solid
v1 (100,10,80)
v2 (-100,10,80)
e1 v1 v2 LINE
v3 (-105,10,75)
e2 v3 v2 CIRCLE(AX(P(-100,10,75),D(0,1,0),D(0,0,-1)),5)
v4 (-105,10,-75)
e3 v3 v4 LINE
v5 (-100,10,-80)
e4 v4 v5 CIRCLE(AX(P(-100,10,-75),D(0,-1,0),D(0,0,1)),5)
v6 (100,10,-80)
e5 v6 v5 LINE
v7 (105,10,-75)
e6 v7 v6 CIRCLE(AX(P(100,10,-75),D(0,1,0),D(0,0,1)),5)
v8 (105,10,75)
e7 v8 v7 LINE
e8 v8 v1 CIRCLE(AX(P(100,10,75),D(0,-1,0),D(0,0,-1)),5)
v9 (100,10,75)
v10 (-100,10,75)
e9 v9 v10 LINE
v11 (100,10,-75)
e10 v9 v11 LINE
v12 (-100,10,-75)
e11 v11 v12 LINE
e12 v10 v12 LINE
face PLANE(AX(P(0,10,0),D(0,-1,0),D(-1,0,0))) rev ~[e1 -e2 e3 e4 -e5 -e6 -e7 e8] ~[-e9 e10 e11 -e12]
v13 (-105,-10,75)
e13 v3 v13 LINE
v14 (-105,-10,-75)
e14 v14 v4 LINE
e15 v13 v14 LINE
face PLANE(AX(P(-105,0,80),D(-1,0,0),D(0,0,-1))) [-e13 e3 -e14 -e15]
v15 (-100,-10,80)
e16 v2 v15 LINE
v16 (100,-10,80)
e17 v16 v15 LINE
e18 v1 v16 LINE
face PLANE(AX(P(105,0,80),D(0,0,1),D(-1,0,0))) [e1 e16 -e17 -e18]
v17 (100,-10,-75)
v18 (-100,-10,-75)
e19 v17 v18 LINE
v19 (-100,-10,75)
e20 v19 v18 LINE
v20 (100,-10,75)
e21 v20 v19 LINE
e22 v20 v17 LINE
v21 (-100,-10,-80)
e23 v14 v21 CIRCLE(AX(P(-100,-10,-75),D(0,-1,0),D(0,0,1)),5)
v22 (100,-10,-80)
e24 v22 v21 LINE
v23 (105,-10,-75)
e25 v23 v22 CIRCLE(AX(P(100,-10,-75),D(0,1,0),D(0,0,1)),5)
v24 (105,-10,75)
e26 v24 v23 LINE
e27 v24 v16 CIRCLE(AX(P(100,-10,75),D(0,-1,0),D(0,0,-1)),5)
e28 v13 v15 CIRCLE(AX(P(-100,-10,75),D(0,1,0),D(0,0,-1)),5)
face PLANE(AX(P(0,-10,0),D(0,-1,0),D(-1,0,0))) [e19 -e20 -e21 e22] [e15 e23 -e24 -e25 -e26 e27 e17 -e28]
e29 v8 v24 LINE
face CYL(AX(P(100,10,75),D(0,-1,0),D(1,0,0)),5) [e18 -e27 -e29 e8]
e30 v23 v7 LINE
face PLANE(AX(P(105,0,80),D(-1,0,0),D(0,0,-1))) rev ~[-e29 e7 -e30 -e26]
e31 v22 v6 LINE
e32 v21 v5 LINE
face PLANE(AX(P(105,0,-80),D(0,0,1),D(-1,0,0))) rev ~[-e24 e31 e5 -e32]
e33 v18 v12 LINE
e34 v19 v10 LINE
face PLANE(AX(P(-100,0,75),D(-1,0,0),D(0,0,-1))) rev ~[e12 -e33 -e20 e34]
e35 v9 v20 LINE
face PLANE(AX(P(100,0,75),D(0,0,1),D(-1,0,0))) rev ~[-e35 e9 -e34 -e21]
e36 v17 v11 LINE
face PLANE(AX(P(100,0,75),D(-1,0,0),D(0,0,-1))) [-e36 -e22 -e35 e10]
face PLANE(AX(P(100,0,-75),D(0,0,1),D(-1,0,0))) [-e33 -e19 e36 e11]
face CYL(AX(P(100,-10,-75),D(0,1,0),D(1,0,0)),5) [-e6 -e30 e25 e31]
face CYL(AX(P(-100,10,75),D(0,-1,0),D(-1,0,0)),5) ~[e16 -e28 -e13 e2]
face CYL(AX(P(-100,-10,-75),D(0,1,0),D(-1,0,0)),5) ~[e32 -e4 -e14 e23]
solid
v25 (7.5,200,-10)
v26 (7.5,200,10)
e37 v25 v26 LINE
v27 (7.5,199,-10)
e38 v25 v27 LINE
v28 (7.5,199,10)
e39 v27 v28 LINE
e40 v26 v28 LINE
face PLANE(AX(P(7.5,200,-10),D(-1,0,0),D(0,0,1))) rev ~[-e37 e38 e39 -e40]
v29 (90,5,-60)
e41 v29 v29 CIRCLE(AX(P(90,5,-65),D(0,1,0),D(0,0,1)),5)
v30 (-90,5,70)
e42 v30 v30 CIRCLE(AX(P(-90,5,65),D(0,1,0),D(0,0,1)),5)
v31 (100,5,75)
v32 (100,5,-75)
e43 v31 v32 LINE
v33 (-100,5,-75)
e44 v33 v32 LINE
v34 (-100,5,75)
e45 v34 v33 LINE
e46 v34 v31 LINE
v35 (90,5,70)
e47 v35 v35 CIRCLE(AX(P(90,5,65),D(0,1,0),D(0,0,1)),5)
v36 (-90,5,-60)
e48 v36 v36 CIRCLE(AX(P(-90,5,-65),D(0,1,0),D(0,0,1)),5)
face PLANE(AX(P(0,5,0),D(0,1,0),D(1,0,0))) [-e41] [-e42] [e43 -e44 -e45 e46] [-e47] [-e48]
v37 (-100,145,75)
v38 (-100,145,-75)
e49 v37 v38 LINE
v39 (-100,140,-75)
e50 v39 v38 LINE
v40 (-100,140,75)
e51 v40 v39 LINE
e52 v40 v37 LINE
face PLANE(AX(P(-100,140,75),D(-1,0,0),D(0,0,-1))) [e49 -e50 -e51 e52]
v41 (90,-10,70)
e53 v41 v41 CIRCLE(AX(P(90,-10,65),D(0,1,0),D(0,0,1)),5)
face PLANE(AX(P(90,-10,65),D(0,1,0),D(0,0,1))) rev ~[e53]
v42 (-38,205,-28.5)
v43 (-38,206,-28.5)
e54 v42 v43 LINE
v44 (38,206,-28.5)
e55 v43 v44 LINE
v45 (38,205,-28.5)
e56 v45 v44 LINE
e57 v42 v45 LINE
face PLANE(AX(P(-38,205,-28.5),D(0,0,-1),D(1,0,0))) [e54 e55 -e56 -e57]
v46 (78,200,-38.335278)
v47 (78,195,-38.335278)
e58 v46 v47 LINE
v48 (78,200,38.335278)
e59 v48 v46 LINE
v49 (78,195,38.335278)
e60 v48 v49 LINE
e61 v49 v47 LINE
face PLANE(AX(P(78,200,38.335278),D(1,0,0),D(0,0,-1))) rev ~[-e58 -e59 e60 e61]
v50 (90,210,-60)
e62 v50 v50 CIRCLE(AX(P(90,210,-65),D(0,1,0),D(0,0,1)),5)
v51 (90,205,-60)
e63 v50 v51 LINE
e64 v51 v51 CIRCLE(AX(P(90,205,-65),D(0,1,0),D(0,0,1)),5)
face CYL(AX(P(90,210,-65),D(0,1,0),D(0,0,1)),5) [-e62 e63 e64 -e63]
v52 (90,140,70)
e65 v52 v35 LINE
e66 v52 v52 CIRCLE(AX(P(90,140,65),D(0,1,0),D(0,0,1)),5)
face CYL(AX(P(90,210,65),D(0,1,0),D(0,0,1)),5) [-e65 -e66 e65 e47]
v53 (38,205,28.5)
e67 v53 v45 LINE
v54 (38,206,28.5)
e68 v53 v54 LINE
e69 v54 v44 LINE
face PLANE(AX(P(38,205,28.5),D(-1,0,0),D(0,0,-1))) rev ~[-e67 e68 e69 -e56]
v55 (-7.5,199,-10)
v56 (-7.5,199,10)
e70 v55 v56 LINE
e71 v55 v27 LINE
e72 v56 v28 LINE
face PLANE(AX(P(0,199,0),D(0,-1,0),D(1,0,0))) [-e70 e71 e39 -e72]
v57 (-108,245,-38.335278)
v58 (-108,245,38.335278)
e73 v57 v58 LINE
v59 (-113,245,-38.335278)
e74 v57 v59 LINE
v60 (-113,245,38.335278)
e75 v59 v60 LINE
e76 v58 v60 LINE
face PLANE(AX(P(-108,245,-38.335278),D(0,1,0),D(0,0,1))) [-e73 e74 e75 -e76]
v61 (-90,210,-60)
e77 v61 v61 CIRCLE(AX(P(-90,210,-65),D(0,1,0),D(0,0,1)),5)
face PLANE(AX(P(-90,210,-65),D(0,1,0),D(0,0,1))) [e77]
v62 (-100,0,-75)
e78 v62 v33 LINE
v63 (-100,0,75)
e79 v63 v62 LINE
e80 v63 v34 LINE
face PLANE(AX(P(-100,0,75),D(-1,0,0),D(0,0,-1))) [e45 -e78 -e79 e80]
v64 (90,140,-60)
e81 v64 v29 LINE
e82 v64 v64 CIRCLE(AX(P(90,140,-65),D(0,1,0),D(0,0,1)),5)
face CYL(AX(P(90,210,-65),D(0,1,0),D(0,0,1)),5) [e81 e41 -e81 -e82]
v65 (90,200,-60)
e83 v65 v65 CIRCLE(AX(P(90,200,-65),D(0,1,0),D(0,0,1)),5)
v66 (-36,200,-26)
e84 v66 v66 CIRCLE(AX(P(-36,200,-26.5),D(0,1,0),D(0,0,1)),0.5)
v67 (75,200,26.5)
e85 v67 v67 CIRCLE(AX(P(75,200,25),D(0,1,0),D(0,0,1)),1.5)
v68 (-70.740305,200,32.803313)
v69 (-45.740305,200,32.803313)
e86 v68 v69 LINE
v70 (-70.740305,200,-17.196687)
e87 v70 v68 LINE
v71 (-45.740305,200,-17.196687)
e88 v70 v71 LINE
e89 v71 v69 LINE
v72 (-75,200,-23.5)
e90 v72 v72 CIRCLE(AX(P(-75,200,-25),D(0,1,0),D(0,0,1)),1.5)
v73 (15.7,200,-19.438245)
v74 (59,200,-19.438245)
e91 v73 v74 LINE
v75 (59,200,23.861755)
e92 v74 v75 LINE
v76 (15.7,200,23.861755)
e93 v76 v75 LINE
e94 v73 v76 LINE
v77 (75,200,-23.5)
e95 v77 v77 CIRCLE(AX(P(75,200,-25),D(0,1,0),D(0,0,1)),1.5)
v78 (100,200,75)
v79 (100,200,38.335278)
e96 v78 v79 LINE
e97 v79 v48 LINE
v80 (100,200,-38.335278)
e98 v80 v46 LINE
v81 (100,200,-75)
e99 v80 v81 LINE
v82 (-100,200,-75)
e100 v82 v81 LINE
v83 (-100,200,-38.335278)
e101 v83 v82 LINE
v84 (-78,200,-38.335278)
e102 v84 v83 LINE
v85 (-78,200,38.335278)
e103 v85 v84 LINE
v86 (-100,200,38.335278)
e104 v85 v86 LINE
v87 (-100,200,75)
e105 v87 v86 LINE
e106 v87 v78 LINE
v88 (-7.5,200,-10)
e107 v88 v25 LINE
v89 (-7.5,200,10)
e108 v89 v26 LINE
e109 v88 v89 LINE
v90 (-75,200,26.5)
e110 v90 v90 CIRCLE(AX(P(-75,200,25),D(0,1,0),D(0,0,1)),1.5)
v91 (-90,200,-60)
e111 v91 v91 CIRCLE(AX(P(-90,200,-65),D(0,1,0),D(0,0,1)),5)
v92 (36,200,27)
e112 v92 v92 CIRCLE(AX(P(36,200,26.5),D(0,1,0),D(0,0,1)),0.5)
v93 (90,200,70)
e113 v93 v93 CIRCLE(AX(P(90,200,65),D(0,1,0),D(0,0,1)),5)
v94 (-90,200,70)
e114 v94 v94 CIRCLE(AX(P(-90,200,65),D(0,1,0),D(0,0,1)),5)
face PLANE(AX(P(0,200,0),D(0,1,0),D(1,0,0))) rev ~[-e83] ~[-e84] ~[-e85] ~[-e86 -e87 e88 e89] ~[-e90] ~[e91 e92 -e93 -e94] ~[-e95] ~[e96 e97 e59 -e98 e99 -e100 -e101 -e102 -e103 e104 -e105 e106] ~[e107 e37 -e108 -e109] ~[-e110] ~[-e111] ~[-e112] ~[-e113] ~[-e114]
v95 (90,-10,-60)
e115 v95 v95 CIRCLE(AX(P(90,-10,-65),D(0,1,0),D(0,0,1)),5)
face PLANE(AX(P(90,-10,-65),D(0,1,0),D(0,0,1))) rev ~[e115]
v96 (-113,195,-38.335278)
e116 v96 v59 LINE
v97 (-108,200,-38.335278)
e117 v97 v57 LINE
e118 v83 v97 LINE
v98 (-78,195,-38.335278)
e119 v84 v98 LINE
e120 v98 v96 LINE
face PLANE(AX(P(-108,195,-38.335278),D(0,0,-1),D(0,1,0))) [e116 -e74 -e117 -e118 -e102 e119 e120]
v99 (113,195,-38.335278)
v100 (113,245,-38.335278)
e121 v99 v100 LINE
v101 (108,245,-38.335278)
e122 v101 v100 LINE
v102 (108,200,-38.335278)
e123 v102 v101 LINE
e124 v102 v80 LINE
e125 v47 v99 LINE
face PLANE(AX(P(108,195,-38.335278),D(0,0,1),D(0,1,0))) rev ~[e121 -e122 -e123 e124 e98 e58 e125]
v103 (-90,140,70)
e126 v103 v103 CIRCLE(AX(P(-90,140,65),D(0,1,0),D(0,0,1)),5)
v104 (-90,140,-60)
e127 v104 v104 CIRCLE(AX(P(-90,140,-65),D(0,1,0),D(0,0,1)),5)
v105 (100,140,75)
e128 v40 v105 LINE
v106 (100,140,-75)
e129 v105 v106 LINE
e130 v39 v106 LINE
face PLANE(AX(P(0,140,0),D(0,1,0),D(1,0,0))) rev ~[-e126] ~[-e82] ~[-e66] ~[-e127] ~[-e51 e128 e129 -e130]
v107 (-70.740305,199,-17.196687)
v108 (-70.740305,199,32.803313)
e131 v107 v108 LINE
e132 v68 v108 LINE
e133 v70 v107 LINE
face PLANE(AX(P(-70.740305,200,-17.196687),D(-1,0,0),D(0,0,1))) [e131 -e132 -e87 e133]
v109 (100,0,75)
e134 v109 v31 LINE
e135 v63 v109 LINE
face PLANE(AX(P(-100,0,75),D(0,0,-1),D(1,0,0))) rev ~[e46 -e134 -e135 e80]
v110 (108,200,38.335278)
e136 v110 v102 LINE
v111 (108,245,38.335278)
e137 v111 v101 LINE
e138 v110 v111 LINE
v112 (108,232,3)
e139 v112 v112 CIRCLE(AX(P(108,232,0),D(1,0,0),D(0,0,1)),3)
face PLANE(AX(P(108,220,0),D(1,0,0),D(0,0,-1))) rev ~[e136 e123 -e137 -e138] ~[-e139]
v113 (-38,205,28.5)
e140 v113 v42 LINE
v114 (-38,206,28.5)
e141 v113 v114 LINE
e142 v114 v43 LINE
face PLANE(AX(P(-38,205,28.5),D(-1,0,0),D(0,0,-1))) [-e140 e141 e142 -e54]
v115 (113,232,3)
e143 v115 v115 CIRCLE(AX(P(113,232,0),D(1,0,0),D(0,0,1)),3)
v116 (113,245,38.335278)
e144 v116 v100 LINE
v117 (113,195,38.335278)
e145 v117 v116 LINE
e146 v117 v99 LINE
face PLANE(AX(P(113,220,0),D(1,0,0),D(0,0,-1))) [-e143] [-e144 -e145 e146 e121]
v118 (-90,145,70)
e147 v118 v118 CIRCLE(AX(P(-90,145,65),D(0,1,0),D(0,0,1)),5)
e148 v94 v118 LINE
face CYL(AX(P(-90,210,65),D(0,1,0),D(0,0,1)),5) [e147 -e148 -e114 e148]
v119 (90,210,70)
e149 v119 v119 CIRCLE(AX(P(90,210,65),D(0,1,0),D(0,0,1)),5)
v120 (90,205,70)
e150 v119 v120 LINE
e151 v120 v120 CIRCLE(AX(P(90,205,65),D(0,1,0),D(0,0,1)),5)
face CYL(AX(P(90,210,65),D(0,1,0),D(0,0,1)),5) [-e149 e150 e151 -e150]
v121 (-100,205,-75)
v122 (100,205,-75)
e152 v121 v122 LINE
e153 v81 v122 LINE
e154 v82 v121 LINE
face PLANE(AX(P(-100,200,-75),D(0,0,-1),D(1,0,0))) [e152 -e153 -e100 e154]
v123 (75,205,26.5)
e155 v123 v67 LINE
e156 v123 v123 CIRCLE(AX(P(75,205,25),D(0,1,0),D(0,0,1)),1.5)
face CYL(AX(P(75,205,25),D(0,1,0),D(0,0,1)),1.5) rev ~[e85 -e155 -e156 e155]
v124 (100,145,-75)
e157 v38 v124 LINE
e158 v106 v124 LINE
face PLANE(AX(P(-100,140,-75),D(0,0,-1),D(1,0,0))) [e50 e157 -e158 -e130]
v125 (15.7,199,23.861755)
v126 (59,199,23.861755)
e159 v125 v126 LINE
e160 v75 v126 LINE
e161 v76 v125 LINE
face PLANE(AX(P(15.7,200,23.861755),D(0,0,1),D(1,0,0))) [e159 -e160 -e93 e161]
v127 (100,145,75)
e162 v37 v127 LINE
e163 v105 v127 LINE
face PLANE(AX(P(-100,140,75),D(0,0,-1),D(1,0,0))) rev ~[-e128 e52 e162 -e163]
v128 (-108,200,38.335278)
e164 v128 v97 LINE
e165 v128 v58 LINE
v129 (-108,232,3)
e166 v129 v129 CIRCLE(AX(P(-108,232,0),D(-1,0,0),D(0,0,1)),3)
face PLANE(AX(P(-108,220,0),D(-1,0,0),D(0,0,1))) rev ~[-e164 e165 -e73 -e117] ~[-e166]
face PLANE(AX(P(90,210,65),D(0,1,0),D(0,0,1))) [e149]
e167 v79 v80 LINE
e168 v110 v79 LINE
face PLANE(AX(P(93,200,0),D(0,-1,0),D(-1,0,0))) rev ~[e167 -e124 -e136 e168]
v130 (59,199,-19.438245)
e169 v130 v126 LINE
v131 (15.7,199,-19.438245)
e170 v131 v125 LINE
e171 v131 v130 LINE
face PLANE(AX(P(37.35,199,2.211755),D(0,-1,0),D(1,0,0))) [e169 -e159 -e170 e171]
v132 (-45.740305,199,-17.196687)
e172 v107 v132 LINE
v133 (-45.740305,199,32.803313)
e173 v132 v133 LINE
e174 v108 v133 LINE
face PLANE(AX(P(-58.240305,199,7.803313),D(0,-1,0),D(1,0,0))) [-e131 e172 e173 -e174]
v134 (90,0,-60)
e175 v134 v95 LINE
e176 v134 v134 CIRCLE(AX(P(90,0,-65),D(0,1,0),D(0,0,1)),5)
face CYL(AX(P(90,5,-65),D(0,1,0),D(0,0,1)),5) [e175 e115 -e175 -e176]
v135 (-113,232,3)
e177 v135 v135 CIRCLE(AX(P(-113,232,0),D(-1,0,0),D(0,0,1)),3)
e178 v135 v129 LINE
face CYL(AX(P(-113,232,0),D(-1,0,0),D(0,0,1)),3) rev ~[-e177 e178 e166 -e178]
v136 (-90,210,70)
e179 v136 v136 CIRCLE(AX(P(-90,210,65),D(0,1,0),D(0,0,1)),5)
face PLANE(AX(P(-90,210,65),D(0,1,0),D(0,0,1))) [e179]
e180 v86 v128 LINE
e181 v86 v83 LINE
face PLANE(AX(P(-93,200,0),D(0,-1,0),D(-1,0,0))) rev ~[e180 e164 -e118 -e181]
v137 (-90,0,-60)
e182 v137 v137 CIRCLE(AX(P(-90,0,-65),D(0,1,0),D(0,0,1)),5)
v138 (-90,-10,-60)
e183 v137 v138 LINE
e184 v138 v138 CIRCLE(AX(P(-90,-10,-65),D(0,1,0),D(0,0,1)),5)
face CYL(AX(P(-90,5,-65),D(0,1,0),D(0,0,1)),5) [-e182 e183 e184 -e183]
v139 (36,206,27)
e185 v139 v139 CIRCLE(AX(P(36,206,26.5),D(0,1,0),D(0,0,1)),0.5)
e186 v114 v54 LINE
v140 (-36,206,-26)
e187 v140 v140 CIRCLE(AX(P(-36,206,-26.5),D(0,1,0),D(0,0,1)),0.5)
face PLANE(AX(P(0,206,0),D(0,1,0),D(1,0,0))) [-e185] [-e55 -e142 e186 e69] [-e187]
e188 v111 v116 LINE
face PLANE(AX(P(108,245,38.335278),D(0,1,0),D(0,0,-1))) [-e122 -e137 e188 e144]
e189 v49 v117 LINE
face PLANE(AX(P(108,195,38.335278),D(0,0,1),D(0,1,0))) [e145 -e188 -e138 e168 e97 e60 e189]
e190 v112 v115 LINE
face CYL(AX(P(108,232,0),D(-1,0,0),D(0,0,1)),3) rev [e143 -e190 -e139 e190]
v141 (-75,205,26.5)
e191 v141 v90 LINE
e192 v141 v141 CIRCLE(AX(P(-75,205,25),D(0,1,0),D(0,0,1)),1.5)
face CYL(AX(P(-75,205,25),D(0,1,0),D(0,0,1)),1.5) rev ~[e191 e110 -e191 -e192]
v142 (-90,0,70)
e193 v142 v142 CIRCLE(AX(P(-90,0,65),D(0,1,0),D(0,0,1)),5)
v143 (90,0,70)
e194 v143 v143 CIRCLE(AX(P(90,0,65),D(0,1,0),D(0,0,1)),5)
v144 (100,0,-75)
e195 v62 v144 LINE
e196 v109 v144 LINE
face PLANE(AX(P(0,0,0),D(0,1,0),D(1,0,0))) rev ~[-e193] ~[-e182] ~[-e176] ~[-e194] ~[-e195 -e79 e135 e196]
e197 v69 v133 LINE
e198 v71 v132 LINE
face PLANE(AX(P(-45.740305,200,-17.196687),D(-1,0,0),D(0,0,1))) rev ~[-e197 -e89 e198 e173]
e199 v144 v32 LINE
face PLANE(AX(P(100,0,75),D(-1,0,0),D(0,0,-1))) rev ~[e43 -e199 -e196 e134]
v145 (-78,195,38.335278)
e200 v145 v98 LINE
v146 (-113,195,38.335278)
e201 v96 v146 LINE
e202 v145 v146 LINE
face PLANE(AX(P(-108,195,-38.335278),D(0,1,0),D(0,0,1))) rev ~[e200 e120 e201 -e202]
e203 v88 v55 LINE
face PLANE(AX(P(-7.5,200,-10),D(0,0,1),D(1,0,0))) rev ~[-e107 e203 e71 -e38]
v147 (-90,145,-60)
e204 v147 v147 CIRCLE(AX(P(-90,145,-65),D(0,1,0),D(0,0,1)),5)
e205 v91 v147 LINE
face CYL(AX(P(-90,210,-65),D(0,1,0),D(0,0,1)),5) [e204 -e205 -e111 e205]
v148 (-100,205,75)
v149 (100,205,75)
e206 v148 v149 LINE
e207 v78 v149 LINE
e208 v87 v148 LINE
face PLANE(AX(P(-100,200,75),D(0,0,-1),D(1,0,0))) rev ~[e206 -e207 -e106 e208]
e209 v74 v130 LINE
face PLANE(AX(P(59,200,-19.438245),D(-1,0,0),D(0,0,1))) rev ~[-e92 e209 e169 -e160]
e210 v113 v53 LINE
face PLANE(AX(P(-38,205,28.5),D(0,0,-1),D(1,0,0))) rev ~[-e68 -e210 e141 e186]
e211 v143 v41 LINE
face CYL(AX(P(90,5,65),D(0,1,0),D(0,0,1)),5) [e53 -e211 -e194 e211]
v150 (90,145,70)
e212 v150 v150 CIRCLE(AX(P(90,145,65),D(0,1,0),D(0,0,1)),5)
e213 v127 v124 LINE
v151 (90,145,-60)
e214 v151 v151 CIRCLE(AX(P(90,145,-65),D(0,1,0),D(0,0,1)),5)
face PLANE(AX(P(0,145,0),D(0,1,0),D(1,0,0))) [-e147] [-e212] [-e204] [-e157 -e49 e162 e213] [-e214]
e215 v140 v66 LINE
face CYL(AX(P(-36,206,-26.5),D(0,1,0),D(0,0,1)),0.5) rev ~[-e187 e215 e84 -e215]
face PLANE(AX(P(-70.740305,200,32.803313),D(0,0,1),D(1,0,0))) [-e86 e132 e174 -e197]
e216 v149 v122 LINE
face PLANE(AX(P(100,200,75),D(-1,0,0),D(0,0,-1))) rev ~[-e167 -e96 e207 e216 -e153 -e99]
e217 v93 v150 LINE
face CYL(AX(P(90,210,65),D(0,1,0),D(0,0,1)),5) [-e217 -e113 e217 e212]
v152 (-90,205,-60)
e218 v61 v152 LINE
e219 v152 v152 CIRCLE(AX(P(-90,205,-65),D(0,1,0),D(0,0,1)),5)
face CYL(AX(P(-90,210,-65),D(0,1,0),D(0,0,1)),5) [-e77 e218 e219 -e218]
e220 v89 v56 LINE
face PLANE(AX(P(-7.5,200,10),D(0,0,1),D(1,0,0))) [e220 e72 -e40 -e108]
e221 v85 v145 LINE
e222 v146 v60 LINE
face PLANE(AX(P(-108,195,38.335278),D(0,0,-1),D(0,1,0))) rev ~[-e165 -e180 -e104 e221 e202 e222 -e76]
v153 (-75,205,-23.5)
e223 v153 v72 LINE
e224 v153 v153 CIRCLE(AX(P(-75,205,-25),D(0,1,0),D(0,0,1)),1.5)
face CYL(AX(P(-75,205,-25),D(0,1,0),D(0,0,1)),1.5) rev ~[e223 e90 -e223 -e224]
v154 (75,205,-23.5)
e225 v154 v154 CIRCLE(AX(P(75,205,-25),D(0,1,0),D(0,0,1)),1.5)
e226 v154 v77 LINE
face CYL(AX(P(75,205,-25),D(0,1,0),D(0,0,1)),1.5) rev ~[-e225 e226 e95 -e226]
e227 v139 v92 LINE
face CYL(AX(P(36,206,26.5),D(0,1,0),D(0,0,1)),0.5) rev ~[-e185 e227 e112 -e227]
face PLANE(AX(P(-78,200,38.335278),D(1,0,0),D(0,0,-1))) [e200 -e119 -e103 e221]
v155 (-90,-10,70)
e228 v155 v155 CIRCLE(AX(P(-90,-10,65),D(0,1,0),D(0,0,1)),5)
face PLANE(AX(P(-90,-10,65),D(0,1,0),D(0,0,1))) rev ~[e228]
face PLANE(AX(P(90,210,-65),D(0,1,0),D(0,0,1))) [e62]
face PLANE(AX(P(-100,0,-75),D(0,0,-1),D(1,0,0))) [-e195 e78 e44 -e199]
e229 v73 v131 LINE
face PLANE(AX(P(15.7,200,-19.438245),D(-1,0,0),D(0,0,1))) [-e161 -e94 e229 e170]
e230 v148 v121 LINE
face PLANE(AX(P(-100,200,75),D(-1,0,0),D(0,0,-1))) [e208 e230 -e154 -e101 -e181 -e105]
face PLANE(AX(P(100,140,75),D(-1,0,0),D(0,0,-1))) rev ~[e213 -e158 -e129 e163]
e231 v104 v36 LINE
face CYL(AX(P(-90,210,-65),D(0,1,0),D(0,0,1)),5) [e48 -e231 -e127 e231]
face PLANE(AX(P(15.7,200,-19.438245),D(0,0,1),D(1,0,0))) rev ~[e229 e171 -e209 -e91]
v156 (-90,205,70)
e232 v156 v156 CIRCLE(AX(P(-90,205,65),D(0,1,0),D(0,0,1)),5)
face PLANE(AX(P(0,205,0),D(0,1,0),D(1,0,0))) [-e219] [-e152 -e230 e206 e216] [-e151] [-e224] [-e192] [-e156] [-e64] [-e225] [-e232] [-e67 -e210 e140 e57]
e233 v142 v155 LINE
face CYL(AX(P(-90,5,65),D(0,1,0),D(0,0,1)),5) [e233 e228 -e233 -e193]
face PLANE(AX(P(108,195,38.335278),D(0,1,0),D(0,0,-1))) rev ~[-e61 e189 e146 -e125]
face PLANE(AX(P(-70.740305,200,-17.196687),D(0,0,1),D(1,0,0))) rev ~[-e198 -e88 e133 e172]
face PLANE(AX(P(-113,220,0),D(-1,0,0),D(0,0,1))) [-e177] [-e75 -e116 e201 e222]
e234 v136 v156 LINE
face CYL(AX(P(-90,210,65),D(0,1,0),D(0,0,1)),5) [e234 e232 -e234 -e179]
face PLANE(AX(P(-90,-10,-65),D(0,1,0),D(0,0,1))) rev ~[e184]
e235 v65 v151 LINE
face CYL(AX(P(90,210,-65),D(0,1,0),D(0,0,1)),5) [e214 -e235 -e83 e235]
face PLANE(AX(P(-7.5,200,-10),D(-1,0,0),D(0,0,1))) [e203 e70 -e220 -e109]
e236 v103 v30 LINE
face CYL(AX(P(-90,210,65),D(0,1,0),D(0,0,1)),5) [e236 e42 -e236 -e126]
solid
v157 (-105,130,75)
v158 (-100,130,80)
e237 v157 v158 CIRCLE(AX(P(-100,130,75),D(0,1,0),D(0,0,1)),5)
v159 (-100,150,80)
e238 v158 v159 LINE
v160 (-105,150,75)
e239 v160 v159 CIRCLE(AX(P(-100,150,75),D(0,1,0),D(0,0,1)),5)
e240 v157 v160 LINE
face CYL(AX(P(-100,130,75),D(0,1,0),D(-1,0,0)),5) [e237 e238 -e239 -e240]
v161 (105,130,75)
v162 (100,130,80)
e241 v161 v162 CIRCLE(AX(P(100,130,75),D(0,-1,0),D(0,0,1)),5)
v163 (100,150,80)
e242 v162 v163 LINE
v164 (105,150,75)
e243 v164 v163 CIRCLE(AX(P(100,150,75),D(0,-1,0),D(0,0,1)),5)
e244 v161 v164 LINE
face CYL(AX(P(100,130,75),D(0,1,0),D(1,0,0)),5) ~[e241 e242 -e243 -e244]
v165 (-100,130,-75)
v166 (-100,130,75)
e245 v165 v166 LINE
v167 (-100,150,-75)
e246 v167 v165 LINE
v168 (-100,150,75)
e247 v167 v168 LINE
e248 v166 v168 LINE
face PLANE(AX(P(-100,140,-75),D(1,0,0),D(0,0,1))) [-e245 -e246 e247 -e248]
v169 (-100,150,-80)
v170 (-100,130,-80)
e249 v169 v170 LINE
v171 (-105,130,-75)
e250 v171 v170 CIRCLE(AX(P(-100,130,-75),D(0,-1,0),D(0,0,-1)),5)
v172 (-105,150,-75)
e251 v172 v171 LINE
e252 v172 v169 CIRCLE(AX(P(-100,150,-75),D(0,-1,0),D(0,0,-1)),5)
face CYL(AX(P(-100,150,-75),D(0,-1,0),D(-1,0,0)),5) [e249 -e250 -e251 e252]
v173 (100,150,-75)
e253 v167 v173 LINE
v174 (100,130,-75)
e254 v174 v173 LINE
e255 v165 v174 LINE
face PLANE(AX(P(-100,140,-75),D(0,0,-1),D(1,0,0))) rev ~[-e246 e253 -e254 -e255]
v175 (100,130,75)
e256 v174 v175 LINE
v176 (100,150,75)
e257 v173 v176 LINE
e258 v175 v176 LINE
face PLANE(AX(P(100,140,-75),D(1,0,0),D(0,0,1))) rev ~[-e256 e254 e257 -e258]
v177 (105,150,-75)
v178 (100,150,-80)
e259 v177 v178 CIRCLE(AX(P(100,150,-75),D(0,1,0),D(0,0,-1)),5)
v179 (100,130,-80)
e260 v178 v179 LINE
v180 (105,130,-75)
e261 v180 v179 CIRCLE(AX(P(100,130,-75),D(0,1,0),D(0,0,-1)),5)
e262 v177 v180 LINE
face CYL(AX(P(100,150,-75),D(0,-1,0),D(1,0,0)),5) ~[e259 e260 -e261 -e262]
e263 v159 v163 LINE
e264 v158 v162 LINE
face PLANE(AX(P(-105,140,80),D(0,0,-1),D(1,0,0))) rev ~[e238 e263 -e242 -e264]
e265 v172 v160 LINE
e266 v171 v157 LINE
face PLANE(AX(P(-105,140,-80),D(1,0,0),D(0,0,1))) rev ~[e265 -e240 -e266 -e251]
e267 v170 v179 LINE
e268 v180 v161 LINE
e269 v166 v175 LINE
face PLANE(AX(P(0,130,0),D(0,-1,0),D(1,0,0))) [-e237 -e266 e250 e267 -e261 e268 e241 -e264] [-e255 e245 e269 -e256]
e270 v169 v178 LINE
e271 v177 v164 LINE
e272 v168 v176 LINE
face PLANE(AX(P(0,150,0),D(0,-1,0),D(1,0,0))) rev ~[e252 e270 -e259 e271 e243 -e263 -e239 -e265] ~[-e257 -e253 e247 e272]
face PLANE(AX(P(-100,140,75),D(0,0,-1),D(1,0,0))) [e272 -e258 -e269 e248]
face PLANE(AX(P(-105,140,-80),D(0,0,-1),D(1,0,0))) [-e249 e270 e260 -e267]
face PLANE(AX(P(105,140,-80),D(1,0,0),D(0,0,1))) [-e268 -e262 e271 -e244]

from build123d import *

# Parameters (mm, degrees)
SKETCH1_W            = 200
SKETCH1_H            = 150
BOSS_EXTRUDE1_DEPTH  = 5
SKETCH2_R            = 5
CUT_EXTRUDE1_DEPTH   = 10
SKETCH3_W            = 200
SKETCH3_H            = 150
SKETCH3_R            = 5
BOSS_EXTRUDE2_DEPTH  = 5
SKETCH4_W            = 200
SKETCH4_H            = 150
SKETCH4_R            = 5
BOSS_EXTRUDE3_DEPTH  = 5
BOSS_EXTRUDE13_START = 205
SKETCH21_R           = 5
BOSS_EXTRUDE13_DEPTH = 205
SKETCH22_R           = 5
BOSS_EXTRUDE14_DEPTH = 15
SKETCH23_R           = 1.5
CUT_EXTRUDE2_DEPTH   = 10
SKETCH27_W           = 76
SKETCH27_H           = 57
BOSS_EXTRUDE16_DEPTH = 1
SKETCH30_R           = 0.5
CUT_EXTRUDE3_DEPTH   = 30
SKETCH35_W           = 210
SKETCH35_H           = 160
SKETCH35_W_2         = 200
SKETCH35_H_2         = 150
BOSS_EXTRUDE19_DEPTH = 10
FILLET4_R            = 5
SKETCH39_W           = 210
SKETCH39_H           = 160
SKETCH39_W_2         = 200
SKETCH39_H_2         = 150
BOSS_EXTRUDE20_DEPTH = 10
FILLET5_R            = 5
SKETCH42_W           = 15
SKETCH42_H           = 20
SKETCH42_W_2         = 25
SKETCH42_H_2         = 50
SKETCH42_W_3         = 43.3
SKETCH42_H_3         = 43.3
BOSS_EXTRUDE23_DEPTH = 1
SKETCH46_W           = 30
SKETCH46_H           = 76.670556204
BOSS_EXTRUDE24_DEPTH = 5
SKETCH48_W           = 76.670556204
SKETCH48_H           = 50
BOSS_EXTRUDE25_DEPTH = 5
SKETCH49_R           = 3
CUT_EXTRUDE4_DEPTH   = 5
SKETCH54_W           = 76.670556204
SKETCH54_H           = 50
BOSS_EXTRUDE26_DEPTH = 5
CUT_EXTRUDE5_START   = -5
SKETCH55_R           = 3
CUT_EXTRUDE5_DEPTH   = 5


with BuildPart() as part:
    # Sketch1 → Boss-Extrude1 (new body)
    with BuildSketch(Plane(origin=(0, 0, 0), x_dir=(1, 0, 0), z_dir=(0, 1, 0))):
        Rectangle(SKETCH1_W, SKETCH1_H)
    extrude(amount=BOSS_EXTRUDE1_DEPTH)

    # Sketch2 → Cut-Extrude1 (cut)
    with BuildSketch(Plane(origin=(0, 5, 0), x_dir=(1, 0, 0), z_dir=(0, 1, 0))):
        with Locations(Location((-90, 65, 0), (0, 0, 270))):
            Circle(SKETCH2_R)
        with Locations(Location((90, 65, 0), (0, 0, 270))):
            Circle(SKETCH2_R)
        with Locations(Location((90, -65, 0), (0, 0, 270))):
            Circle(SKETCH2_R)
        with Locations(Location((-90, -65, 0), (0, 0, 270))):
            Circle(SKETCH2_R)
    extrude(amount=-CUT_EXTRUDE1_DEPTH, mode=Mode.SUBTRACT)



with BuildPart() as body_2:
    # Sketch3 → Boss-Extrude2 (new body)
    with BuildSketch(Plane(origin=(0, 140, 0), x_dir=(1, 0, 0), z_dir=(0, 1, 0))):
        Rectangle(SKETCH3_W, SKETCH3_H)
        with Locations(Location((-90, 65, 0), (0, 0, 270))):
            Circle(SKETCH3_R, mode=Mode.SUBTRACT)
        with Locations(Location((90, 65, 0), (0, 0, 270))):
            Circle(SKETCH3_R, mode=Mode.SUBTRACT)
        with Locations(Location((-90, -65, 0), (0, 0, 270))):
            Circle(SKETCH3_R, mode=Mode.SUBTRACT)
        with Locations(Location((90, -65, 0), (0, 0, 270))):
            Circle(SKETCH3_R, mode=Mode.SUBTRACT)
    extrude(amount=BOSS_EXTRUDE2_DEPTH)



with BuildPart() as body_3:
    # Sketch4 → Boss-Extrude3 (new body)
    with BuildSketch(Plane(origin=(0, 200, 0), x_dir=(1, 0, 0), z_dir=(0, 1, 0))):
        Rectangle(SKETCH4_W, SKETCH4_H)
        with Locations(Location((-90, 65, 0), (0, 0, 270))):
            Circle(SKETCH4_R, mode=Mode.SUBTRACT)
        with Locations(Location((90, 65, 0), (0, 0, 270))):
            Circle(SKETCH4_R, mode=Mode.SUBTRACT)
        with Locations(Location((90, -65, 0), (0, 0, 270))):
            Circle(SKETCH4_R, mode=Mode.SUBTRACT)
        with Locations(Location((-90, -65, 0), (0, 0, 270))):
            Circle(SKETCH4_R, mode=Mode.SUBTRACT)
    extrude(amount=BOSS_EXTRUDE3_DEPTH)


with BuildPart() as body_2_1:
    add(body_2.part)

    add(body_3.part)  # Boss-Extrude13 merges body 3
    # Sketch21 → Boss-Extrude13 (add)
    with BuildSketch(Plane(origin=(0, 5, 0), x_dir=(1, 0, 0), z_dir=(0, 1, 0)).offset(BOSS_EXTRUDE13_START)):
        with Locations(Location((-90, -65, 0), (0, 0, 270))):
            Circle(SKETCH21_R)
        with Locations(Location((-90, 65, 0), (0, 0, 270))):
            Circle(SKETCH21_R)
        with Locations(Location((90, 65, 0), (0, 0, 270))):
            Circle(SKETCH21_R)
        with Locations(Location((90, -65, 0), (0, 0, 270))):
            Circle(SKETCH21_R)
    extrude(amount=-BOSS_EXTRUDE13_DEPTH)


with BuildPart() as part_1:
    add(part.part)

    add(body_2_1.part)  # Boss-Extrude14 merges body 2
    # Sketch22 → Boss-Extrude14 (add)
    with BuildSketch(Plane(origin=(0, 5, 0), x_dir=(1, 0, 0), z_dir=(0, 1, 0))):
        with Locations(Location((-90, 65, 0), (0, 0, 270))):
            Circle(SKETCH22_R)
        with Locations(Location((-90, -65, 0), (0, 0, 270))):
            Circle(SKETCH22_R)
        with Locations(Location((90, -65, 0), (0, 0, 270))):
            Circle(SKETCH22_R)
        with Locations(Location((90, 65, 0), (0, 0, 270))):
            Circle(SKETCH22_R)
    extrude(amount=-BOSS_EXTRUDE14_DEPTH)

    # Sketch23 → Cut-Extrude2 (cut)
    with BuildSketch(Plane(origin=(0, 205, 0), x_dir=(1, 0, 0), z_dir=(0, 1, 0))):
        with Locations(Location((-75, 25, 0), (0, 0, 270))):
            Circle(SKETCH23_R)
        with Locations(Location((-75, -25, 0), (0, 0, 270))):
            Circle(SKETCH23_R)
        with Locations(Location((75, -25, 0), (0, 0, 270))):
            Circle(SKETCH23_R)
        with Locations(Location((75, 25, 0), (0, 0, 270))):
            Circle(SKETCH23_R)
    extrude(amount=-CUT_EXTRUDE2_DEPTH, mode=Mode.SUBTRACT)

    # Sketch27 → Boss-Extrude16 (add)
    with BuildSketch(Plane(origin=(0, 205, 0), x_dir=(1, 0, 0), z_dir=(0, 1, 0))):
        Rectangle(SKETCH27_W, SKETCH27_H)
    extrude(amount=BOSS_EXTRUDE16_DEPTH)

    # Sketch30 → Cut-Extrude3 (cut)
    with BuildSketch(Plane(origin=(0, 206, 0), x_dir=(1, 0, 0), z_dir=(0, 1, 0))):
        with Locations(Location((-36, 26.5, 0), (0, 0, 270))):
            Circle(SKETCH30_R)
        with Locations(Location((36, -26.5, 0), (0, 0, 270))):
            Circle(SKETCH30_R)
    extrude(amount=-CUT_EXTRUDE3_DEPTH, mode=Mode.SUBTRACT)

    # Sketch42 → Boss-Extrude23 (add)
    with BuildSketch(Plane.XZ.offset(-200)):
        Rectangle(SKETCH42_W, SKETCH42_H)
        with Locations((-58.240305189, 7.803312526)):
            Rectangle(SKETCH42_W_2, SKETCH42_H_2)
        with Locations((37.35, 2.211754737)):
            Rectangle(SKETCH42_W_3, SKETCH42_H_3)
    extrude(amount=BOSS_EXTRUDE23_DEPTH)

    # Sketch46 → Boss-Extrude24 (add)
    with BuildSketch(Plane(origin=(0, 200, 0), x_dir=(-1, 0, 0), z_dir=(0, -1, 0))):
        with Locations((-93, 0)):
            Rectangle(SKETCH46_W, SKETCH46_H)
        with Locations((93, 0)):
            Rectangle(SKETCH46_W, SKETCH46_H)
    extrude(amount=BOSS_EXTRUDE24_DEPTH)

    # Sketch48 → Boss-Extrude25 (add)
    with BuildSketch(Plane.ZY.offset(108)):
        with Locations((0, 220)):
            Rectangle(SKETCH48_W, SKETCH48_H)
    extrude(amount=BOSS_EXTRUDE25_DEPTH)

    # Sketch49 → Cut-Extrude4 (cut)
    with BuildSketch(Plane.ZY.offset(113)):
        with Locations((0, 232)):
            Circle(SKETCH49_R)
    extrude(amount=-CUT_EXTRUDE4_DEPTH, mode=Mode.SUBTRACT)

    # Sketch54 → Boss-Extrude26 (add)
    with BuildSketch(Plane(origin=(108, 0, 0), x_dir=(0, 0, -1), z_dir=(1, 0, 0))):
        with Locations((0, 220)):
            Rectangle(SKETCH54_W, SKETCH54_H)
    extrude(amount=BOSS_EXTRUDE26_DEPTH)

    # Sketch55 → Cut-Extrude5 (cut)
    with BuildSketch(Plane(origin=(113, 0, 0), x_dir=(0, 0, -1), z_dir=(1, 0, 0)).offset(CUT_EXTRUDE5_START)):
        with Locations(Location((0, 232, 0), (0, 0, 180))):
            Circle(SKETCH55_R)
    extrude(amount=CUT_EXTRUDE5_DEPTH, mode=Mode.SUBTRACT)


with BuildPart() as body_2_2:
    # Sketch35 → Boss-Extrude19 (new, symmetric)
    with BuildSketch(Plane(origin=(0, 0, 0), x_dir=(-1, 0, 0), z_dir=(0, -1, 0))):
        Rectangle(SKETCH35_W, SKETCH35_H)
        Rectangle(SKETCH35_W_2, SKETCH35_H_2, mode=Mode.SUBTRACT)
    extrude(amount=BOSS_EXTRUDE19_DEPTH, both=True)

    # Fillet4
    fillet4_edges = [body_2_2.edges().sort_by_distance(p)[0] for p in [
        (105, 0, -80),
        (-105, 0, -80),
        (-105, 0, 80),
        (105, 0, 80),
    ]]
    fillet(fillet4_edges, radius=FILLET4_R)


with BuildPart() as body_3_2:
    # Sketch39 → Boss-Extrude20 (new, symmetric)
    with BuildSketch(Plane.XZ.offset(-140)):
        Rectangle(SKETCH39_W, SKETCH39_H)
        Rectangle(SKETCH39_W_2, SKETCH39_H_2, mode=Mode.SUBTRACT)
    extrude(amount=BOSS_EXTRUDE20_DEPTH, both=True)

    # Fillet5
    fillet5_edges = [body_3_2.edges().sort_by_distance(p)[0] for p in [
        (105, 140, -80),
        (-105, 140, -80),
        (-105, 140, 80),
        (105, 140, 80),
    ]]
    fillet(fillet5_edges, radius=FILLET5_R)


solid = Compound([part_1.part, body_2_2.part, body_3_2.part])
